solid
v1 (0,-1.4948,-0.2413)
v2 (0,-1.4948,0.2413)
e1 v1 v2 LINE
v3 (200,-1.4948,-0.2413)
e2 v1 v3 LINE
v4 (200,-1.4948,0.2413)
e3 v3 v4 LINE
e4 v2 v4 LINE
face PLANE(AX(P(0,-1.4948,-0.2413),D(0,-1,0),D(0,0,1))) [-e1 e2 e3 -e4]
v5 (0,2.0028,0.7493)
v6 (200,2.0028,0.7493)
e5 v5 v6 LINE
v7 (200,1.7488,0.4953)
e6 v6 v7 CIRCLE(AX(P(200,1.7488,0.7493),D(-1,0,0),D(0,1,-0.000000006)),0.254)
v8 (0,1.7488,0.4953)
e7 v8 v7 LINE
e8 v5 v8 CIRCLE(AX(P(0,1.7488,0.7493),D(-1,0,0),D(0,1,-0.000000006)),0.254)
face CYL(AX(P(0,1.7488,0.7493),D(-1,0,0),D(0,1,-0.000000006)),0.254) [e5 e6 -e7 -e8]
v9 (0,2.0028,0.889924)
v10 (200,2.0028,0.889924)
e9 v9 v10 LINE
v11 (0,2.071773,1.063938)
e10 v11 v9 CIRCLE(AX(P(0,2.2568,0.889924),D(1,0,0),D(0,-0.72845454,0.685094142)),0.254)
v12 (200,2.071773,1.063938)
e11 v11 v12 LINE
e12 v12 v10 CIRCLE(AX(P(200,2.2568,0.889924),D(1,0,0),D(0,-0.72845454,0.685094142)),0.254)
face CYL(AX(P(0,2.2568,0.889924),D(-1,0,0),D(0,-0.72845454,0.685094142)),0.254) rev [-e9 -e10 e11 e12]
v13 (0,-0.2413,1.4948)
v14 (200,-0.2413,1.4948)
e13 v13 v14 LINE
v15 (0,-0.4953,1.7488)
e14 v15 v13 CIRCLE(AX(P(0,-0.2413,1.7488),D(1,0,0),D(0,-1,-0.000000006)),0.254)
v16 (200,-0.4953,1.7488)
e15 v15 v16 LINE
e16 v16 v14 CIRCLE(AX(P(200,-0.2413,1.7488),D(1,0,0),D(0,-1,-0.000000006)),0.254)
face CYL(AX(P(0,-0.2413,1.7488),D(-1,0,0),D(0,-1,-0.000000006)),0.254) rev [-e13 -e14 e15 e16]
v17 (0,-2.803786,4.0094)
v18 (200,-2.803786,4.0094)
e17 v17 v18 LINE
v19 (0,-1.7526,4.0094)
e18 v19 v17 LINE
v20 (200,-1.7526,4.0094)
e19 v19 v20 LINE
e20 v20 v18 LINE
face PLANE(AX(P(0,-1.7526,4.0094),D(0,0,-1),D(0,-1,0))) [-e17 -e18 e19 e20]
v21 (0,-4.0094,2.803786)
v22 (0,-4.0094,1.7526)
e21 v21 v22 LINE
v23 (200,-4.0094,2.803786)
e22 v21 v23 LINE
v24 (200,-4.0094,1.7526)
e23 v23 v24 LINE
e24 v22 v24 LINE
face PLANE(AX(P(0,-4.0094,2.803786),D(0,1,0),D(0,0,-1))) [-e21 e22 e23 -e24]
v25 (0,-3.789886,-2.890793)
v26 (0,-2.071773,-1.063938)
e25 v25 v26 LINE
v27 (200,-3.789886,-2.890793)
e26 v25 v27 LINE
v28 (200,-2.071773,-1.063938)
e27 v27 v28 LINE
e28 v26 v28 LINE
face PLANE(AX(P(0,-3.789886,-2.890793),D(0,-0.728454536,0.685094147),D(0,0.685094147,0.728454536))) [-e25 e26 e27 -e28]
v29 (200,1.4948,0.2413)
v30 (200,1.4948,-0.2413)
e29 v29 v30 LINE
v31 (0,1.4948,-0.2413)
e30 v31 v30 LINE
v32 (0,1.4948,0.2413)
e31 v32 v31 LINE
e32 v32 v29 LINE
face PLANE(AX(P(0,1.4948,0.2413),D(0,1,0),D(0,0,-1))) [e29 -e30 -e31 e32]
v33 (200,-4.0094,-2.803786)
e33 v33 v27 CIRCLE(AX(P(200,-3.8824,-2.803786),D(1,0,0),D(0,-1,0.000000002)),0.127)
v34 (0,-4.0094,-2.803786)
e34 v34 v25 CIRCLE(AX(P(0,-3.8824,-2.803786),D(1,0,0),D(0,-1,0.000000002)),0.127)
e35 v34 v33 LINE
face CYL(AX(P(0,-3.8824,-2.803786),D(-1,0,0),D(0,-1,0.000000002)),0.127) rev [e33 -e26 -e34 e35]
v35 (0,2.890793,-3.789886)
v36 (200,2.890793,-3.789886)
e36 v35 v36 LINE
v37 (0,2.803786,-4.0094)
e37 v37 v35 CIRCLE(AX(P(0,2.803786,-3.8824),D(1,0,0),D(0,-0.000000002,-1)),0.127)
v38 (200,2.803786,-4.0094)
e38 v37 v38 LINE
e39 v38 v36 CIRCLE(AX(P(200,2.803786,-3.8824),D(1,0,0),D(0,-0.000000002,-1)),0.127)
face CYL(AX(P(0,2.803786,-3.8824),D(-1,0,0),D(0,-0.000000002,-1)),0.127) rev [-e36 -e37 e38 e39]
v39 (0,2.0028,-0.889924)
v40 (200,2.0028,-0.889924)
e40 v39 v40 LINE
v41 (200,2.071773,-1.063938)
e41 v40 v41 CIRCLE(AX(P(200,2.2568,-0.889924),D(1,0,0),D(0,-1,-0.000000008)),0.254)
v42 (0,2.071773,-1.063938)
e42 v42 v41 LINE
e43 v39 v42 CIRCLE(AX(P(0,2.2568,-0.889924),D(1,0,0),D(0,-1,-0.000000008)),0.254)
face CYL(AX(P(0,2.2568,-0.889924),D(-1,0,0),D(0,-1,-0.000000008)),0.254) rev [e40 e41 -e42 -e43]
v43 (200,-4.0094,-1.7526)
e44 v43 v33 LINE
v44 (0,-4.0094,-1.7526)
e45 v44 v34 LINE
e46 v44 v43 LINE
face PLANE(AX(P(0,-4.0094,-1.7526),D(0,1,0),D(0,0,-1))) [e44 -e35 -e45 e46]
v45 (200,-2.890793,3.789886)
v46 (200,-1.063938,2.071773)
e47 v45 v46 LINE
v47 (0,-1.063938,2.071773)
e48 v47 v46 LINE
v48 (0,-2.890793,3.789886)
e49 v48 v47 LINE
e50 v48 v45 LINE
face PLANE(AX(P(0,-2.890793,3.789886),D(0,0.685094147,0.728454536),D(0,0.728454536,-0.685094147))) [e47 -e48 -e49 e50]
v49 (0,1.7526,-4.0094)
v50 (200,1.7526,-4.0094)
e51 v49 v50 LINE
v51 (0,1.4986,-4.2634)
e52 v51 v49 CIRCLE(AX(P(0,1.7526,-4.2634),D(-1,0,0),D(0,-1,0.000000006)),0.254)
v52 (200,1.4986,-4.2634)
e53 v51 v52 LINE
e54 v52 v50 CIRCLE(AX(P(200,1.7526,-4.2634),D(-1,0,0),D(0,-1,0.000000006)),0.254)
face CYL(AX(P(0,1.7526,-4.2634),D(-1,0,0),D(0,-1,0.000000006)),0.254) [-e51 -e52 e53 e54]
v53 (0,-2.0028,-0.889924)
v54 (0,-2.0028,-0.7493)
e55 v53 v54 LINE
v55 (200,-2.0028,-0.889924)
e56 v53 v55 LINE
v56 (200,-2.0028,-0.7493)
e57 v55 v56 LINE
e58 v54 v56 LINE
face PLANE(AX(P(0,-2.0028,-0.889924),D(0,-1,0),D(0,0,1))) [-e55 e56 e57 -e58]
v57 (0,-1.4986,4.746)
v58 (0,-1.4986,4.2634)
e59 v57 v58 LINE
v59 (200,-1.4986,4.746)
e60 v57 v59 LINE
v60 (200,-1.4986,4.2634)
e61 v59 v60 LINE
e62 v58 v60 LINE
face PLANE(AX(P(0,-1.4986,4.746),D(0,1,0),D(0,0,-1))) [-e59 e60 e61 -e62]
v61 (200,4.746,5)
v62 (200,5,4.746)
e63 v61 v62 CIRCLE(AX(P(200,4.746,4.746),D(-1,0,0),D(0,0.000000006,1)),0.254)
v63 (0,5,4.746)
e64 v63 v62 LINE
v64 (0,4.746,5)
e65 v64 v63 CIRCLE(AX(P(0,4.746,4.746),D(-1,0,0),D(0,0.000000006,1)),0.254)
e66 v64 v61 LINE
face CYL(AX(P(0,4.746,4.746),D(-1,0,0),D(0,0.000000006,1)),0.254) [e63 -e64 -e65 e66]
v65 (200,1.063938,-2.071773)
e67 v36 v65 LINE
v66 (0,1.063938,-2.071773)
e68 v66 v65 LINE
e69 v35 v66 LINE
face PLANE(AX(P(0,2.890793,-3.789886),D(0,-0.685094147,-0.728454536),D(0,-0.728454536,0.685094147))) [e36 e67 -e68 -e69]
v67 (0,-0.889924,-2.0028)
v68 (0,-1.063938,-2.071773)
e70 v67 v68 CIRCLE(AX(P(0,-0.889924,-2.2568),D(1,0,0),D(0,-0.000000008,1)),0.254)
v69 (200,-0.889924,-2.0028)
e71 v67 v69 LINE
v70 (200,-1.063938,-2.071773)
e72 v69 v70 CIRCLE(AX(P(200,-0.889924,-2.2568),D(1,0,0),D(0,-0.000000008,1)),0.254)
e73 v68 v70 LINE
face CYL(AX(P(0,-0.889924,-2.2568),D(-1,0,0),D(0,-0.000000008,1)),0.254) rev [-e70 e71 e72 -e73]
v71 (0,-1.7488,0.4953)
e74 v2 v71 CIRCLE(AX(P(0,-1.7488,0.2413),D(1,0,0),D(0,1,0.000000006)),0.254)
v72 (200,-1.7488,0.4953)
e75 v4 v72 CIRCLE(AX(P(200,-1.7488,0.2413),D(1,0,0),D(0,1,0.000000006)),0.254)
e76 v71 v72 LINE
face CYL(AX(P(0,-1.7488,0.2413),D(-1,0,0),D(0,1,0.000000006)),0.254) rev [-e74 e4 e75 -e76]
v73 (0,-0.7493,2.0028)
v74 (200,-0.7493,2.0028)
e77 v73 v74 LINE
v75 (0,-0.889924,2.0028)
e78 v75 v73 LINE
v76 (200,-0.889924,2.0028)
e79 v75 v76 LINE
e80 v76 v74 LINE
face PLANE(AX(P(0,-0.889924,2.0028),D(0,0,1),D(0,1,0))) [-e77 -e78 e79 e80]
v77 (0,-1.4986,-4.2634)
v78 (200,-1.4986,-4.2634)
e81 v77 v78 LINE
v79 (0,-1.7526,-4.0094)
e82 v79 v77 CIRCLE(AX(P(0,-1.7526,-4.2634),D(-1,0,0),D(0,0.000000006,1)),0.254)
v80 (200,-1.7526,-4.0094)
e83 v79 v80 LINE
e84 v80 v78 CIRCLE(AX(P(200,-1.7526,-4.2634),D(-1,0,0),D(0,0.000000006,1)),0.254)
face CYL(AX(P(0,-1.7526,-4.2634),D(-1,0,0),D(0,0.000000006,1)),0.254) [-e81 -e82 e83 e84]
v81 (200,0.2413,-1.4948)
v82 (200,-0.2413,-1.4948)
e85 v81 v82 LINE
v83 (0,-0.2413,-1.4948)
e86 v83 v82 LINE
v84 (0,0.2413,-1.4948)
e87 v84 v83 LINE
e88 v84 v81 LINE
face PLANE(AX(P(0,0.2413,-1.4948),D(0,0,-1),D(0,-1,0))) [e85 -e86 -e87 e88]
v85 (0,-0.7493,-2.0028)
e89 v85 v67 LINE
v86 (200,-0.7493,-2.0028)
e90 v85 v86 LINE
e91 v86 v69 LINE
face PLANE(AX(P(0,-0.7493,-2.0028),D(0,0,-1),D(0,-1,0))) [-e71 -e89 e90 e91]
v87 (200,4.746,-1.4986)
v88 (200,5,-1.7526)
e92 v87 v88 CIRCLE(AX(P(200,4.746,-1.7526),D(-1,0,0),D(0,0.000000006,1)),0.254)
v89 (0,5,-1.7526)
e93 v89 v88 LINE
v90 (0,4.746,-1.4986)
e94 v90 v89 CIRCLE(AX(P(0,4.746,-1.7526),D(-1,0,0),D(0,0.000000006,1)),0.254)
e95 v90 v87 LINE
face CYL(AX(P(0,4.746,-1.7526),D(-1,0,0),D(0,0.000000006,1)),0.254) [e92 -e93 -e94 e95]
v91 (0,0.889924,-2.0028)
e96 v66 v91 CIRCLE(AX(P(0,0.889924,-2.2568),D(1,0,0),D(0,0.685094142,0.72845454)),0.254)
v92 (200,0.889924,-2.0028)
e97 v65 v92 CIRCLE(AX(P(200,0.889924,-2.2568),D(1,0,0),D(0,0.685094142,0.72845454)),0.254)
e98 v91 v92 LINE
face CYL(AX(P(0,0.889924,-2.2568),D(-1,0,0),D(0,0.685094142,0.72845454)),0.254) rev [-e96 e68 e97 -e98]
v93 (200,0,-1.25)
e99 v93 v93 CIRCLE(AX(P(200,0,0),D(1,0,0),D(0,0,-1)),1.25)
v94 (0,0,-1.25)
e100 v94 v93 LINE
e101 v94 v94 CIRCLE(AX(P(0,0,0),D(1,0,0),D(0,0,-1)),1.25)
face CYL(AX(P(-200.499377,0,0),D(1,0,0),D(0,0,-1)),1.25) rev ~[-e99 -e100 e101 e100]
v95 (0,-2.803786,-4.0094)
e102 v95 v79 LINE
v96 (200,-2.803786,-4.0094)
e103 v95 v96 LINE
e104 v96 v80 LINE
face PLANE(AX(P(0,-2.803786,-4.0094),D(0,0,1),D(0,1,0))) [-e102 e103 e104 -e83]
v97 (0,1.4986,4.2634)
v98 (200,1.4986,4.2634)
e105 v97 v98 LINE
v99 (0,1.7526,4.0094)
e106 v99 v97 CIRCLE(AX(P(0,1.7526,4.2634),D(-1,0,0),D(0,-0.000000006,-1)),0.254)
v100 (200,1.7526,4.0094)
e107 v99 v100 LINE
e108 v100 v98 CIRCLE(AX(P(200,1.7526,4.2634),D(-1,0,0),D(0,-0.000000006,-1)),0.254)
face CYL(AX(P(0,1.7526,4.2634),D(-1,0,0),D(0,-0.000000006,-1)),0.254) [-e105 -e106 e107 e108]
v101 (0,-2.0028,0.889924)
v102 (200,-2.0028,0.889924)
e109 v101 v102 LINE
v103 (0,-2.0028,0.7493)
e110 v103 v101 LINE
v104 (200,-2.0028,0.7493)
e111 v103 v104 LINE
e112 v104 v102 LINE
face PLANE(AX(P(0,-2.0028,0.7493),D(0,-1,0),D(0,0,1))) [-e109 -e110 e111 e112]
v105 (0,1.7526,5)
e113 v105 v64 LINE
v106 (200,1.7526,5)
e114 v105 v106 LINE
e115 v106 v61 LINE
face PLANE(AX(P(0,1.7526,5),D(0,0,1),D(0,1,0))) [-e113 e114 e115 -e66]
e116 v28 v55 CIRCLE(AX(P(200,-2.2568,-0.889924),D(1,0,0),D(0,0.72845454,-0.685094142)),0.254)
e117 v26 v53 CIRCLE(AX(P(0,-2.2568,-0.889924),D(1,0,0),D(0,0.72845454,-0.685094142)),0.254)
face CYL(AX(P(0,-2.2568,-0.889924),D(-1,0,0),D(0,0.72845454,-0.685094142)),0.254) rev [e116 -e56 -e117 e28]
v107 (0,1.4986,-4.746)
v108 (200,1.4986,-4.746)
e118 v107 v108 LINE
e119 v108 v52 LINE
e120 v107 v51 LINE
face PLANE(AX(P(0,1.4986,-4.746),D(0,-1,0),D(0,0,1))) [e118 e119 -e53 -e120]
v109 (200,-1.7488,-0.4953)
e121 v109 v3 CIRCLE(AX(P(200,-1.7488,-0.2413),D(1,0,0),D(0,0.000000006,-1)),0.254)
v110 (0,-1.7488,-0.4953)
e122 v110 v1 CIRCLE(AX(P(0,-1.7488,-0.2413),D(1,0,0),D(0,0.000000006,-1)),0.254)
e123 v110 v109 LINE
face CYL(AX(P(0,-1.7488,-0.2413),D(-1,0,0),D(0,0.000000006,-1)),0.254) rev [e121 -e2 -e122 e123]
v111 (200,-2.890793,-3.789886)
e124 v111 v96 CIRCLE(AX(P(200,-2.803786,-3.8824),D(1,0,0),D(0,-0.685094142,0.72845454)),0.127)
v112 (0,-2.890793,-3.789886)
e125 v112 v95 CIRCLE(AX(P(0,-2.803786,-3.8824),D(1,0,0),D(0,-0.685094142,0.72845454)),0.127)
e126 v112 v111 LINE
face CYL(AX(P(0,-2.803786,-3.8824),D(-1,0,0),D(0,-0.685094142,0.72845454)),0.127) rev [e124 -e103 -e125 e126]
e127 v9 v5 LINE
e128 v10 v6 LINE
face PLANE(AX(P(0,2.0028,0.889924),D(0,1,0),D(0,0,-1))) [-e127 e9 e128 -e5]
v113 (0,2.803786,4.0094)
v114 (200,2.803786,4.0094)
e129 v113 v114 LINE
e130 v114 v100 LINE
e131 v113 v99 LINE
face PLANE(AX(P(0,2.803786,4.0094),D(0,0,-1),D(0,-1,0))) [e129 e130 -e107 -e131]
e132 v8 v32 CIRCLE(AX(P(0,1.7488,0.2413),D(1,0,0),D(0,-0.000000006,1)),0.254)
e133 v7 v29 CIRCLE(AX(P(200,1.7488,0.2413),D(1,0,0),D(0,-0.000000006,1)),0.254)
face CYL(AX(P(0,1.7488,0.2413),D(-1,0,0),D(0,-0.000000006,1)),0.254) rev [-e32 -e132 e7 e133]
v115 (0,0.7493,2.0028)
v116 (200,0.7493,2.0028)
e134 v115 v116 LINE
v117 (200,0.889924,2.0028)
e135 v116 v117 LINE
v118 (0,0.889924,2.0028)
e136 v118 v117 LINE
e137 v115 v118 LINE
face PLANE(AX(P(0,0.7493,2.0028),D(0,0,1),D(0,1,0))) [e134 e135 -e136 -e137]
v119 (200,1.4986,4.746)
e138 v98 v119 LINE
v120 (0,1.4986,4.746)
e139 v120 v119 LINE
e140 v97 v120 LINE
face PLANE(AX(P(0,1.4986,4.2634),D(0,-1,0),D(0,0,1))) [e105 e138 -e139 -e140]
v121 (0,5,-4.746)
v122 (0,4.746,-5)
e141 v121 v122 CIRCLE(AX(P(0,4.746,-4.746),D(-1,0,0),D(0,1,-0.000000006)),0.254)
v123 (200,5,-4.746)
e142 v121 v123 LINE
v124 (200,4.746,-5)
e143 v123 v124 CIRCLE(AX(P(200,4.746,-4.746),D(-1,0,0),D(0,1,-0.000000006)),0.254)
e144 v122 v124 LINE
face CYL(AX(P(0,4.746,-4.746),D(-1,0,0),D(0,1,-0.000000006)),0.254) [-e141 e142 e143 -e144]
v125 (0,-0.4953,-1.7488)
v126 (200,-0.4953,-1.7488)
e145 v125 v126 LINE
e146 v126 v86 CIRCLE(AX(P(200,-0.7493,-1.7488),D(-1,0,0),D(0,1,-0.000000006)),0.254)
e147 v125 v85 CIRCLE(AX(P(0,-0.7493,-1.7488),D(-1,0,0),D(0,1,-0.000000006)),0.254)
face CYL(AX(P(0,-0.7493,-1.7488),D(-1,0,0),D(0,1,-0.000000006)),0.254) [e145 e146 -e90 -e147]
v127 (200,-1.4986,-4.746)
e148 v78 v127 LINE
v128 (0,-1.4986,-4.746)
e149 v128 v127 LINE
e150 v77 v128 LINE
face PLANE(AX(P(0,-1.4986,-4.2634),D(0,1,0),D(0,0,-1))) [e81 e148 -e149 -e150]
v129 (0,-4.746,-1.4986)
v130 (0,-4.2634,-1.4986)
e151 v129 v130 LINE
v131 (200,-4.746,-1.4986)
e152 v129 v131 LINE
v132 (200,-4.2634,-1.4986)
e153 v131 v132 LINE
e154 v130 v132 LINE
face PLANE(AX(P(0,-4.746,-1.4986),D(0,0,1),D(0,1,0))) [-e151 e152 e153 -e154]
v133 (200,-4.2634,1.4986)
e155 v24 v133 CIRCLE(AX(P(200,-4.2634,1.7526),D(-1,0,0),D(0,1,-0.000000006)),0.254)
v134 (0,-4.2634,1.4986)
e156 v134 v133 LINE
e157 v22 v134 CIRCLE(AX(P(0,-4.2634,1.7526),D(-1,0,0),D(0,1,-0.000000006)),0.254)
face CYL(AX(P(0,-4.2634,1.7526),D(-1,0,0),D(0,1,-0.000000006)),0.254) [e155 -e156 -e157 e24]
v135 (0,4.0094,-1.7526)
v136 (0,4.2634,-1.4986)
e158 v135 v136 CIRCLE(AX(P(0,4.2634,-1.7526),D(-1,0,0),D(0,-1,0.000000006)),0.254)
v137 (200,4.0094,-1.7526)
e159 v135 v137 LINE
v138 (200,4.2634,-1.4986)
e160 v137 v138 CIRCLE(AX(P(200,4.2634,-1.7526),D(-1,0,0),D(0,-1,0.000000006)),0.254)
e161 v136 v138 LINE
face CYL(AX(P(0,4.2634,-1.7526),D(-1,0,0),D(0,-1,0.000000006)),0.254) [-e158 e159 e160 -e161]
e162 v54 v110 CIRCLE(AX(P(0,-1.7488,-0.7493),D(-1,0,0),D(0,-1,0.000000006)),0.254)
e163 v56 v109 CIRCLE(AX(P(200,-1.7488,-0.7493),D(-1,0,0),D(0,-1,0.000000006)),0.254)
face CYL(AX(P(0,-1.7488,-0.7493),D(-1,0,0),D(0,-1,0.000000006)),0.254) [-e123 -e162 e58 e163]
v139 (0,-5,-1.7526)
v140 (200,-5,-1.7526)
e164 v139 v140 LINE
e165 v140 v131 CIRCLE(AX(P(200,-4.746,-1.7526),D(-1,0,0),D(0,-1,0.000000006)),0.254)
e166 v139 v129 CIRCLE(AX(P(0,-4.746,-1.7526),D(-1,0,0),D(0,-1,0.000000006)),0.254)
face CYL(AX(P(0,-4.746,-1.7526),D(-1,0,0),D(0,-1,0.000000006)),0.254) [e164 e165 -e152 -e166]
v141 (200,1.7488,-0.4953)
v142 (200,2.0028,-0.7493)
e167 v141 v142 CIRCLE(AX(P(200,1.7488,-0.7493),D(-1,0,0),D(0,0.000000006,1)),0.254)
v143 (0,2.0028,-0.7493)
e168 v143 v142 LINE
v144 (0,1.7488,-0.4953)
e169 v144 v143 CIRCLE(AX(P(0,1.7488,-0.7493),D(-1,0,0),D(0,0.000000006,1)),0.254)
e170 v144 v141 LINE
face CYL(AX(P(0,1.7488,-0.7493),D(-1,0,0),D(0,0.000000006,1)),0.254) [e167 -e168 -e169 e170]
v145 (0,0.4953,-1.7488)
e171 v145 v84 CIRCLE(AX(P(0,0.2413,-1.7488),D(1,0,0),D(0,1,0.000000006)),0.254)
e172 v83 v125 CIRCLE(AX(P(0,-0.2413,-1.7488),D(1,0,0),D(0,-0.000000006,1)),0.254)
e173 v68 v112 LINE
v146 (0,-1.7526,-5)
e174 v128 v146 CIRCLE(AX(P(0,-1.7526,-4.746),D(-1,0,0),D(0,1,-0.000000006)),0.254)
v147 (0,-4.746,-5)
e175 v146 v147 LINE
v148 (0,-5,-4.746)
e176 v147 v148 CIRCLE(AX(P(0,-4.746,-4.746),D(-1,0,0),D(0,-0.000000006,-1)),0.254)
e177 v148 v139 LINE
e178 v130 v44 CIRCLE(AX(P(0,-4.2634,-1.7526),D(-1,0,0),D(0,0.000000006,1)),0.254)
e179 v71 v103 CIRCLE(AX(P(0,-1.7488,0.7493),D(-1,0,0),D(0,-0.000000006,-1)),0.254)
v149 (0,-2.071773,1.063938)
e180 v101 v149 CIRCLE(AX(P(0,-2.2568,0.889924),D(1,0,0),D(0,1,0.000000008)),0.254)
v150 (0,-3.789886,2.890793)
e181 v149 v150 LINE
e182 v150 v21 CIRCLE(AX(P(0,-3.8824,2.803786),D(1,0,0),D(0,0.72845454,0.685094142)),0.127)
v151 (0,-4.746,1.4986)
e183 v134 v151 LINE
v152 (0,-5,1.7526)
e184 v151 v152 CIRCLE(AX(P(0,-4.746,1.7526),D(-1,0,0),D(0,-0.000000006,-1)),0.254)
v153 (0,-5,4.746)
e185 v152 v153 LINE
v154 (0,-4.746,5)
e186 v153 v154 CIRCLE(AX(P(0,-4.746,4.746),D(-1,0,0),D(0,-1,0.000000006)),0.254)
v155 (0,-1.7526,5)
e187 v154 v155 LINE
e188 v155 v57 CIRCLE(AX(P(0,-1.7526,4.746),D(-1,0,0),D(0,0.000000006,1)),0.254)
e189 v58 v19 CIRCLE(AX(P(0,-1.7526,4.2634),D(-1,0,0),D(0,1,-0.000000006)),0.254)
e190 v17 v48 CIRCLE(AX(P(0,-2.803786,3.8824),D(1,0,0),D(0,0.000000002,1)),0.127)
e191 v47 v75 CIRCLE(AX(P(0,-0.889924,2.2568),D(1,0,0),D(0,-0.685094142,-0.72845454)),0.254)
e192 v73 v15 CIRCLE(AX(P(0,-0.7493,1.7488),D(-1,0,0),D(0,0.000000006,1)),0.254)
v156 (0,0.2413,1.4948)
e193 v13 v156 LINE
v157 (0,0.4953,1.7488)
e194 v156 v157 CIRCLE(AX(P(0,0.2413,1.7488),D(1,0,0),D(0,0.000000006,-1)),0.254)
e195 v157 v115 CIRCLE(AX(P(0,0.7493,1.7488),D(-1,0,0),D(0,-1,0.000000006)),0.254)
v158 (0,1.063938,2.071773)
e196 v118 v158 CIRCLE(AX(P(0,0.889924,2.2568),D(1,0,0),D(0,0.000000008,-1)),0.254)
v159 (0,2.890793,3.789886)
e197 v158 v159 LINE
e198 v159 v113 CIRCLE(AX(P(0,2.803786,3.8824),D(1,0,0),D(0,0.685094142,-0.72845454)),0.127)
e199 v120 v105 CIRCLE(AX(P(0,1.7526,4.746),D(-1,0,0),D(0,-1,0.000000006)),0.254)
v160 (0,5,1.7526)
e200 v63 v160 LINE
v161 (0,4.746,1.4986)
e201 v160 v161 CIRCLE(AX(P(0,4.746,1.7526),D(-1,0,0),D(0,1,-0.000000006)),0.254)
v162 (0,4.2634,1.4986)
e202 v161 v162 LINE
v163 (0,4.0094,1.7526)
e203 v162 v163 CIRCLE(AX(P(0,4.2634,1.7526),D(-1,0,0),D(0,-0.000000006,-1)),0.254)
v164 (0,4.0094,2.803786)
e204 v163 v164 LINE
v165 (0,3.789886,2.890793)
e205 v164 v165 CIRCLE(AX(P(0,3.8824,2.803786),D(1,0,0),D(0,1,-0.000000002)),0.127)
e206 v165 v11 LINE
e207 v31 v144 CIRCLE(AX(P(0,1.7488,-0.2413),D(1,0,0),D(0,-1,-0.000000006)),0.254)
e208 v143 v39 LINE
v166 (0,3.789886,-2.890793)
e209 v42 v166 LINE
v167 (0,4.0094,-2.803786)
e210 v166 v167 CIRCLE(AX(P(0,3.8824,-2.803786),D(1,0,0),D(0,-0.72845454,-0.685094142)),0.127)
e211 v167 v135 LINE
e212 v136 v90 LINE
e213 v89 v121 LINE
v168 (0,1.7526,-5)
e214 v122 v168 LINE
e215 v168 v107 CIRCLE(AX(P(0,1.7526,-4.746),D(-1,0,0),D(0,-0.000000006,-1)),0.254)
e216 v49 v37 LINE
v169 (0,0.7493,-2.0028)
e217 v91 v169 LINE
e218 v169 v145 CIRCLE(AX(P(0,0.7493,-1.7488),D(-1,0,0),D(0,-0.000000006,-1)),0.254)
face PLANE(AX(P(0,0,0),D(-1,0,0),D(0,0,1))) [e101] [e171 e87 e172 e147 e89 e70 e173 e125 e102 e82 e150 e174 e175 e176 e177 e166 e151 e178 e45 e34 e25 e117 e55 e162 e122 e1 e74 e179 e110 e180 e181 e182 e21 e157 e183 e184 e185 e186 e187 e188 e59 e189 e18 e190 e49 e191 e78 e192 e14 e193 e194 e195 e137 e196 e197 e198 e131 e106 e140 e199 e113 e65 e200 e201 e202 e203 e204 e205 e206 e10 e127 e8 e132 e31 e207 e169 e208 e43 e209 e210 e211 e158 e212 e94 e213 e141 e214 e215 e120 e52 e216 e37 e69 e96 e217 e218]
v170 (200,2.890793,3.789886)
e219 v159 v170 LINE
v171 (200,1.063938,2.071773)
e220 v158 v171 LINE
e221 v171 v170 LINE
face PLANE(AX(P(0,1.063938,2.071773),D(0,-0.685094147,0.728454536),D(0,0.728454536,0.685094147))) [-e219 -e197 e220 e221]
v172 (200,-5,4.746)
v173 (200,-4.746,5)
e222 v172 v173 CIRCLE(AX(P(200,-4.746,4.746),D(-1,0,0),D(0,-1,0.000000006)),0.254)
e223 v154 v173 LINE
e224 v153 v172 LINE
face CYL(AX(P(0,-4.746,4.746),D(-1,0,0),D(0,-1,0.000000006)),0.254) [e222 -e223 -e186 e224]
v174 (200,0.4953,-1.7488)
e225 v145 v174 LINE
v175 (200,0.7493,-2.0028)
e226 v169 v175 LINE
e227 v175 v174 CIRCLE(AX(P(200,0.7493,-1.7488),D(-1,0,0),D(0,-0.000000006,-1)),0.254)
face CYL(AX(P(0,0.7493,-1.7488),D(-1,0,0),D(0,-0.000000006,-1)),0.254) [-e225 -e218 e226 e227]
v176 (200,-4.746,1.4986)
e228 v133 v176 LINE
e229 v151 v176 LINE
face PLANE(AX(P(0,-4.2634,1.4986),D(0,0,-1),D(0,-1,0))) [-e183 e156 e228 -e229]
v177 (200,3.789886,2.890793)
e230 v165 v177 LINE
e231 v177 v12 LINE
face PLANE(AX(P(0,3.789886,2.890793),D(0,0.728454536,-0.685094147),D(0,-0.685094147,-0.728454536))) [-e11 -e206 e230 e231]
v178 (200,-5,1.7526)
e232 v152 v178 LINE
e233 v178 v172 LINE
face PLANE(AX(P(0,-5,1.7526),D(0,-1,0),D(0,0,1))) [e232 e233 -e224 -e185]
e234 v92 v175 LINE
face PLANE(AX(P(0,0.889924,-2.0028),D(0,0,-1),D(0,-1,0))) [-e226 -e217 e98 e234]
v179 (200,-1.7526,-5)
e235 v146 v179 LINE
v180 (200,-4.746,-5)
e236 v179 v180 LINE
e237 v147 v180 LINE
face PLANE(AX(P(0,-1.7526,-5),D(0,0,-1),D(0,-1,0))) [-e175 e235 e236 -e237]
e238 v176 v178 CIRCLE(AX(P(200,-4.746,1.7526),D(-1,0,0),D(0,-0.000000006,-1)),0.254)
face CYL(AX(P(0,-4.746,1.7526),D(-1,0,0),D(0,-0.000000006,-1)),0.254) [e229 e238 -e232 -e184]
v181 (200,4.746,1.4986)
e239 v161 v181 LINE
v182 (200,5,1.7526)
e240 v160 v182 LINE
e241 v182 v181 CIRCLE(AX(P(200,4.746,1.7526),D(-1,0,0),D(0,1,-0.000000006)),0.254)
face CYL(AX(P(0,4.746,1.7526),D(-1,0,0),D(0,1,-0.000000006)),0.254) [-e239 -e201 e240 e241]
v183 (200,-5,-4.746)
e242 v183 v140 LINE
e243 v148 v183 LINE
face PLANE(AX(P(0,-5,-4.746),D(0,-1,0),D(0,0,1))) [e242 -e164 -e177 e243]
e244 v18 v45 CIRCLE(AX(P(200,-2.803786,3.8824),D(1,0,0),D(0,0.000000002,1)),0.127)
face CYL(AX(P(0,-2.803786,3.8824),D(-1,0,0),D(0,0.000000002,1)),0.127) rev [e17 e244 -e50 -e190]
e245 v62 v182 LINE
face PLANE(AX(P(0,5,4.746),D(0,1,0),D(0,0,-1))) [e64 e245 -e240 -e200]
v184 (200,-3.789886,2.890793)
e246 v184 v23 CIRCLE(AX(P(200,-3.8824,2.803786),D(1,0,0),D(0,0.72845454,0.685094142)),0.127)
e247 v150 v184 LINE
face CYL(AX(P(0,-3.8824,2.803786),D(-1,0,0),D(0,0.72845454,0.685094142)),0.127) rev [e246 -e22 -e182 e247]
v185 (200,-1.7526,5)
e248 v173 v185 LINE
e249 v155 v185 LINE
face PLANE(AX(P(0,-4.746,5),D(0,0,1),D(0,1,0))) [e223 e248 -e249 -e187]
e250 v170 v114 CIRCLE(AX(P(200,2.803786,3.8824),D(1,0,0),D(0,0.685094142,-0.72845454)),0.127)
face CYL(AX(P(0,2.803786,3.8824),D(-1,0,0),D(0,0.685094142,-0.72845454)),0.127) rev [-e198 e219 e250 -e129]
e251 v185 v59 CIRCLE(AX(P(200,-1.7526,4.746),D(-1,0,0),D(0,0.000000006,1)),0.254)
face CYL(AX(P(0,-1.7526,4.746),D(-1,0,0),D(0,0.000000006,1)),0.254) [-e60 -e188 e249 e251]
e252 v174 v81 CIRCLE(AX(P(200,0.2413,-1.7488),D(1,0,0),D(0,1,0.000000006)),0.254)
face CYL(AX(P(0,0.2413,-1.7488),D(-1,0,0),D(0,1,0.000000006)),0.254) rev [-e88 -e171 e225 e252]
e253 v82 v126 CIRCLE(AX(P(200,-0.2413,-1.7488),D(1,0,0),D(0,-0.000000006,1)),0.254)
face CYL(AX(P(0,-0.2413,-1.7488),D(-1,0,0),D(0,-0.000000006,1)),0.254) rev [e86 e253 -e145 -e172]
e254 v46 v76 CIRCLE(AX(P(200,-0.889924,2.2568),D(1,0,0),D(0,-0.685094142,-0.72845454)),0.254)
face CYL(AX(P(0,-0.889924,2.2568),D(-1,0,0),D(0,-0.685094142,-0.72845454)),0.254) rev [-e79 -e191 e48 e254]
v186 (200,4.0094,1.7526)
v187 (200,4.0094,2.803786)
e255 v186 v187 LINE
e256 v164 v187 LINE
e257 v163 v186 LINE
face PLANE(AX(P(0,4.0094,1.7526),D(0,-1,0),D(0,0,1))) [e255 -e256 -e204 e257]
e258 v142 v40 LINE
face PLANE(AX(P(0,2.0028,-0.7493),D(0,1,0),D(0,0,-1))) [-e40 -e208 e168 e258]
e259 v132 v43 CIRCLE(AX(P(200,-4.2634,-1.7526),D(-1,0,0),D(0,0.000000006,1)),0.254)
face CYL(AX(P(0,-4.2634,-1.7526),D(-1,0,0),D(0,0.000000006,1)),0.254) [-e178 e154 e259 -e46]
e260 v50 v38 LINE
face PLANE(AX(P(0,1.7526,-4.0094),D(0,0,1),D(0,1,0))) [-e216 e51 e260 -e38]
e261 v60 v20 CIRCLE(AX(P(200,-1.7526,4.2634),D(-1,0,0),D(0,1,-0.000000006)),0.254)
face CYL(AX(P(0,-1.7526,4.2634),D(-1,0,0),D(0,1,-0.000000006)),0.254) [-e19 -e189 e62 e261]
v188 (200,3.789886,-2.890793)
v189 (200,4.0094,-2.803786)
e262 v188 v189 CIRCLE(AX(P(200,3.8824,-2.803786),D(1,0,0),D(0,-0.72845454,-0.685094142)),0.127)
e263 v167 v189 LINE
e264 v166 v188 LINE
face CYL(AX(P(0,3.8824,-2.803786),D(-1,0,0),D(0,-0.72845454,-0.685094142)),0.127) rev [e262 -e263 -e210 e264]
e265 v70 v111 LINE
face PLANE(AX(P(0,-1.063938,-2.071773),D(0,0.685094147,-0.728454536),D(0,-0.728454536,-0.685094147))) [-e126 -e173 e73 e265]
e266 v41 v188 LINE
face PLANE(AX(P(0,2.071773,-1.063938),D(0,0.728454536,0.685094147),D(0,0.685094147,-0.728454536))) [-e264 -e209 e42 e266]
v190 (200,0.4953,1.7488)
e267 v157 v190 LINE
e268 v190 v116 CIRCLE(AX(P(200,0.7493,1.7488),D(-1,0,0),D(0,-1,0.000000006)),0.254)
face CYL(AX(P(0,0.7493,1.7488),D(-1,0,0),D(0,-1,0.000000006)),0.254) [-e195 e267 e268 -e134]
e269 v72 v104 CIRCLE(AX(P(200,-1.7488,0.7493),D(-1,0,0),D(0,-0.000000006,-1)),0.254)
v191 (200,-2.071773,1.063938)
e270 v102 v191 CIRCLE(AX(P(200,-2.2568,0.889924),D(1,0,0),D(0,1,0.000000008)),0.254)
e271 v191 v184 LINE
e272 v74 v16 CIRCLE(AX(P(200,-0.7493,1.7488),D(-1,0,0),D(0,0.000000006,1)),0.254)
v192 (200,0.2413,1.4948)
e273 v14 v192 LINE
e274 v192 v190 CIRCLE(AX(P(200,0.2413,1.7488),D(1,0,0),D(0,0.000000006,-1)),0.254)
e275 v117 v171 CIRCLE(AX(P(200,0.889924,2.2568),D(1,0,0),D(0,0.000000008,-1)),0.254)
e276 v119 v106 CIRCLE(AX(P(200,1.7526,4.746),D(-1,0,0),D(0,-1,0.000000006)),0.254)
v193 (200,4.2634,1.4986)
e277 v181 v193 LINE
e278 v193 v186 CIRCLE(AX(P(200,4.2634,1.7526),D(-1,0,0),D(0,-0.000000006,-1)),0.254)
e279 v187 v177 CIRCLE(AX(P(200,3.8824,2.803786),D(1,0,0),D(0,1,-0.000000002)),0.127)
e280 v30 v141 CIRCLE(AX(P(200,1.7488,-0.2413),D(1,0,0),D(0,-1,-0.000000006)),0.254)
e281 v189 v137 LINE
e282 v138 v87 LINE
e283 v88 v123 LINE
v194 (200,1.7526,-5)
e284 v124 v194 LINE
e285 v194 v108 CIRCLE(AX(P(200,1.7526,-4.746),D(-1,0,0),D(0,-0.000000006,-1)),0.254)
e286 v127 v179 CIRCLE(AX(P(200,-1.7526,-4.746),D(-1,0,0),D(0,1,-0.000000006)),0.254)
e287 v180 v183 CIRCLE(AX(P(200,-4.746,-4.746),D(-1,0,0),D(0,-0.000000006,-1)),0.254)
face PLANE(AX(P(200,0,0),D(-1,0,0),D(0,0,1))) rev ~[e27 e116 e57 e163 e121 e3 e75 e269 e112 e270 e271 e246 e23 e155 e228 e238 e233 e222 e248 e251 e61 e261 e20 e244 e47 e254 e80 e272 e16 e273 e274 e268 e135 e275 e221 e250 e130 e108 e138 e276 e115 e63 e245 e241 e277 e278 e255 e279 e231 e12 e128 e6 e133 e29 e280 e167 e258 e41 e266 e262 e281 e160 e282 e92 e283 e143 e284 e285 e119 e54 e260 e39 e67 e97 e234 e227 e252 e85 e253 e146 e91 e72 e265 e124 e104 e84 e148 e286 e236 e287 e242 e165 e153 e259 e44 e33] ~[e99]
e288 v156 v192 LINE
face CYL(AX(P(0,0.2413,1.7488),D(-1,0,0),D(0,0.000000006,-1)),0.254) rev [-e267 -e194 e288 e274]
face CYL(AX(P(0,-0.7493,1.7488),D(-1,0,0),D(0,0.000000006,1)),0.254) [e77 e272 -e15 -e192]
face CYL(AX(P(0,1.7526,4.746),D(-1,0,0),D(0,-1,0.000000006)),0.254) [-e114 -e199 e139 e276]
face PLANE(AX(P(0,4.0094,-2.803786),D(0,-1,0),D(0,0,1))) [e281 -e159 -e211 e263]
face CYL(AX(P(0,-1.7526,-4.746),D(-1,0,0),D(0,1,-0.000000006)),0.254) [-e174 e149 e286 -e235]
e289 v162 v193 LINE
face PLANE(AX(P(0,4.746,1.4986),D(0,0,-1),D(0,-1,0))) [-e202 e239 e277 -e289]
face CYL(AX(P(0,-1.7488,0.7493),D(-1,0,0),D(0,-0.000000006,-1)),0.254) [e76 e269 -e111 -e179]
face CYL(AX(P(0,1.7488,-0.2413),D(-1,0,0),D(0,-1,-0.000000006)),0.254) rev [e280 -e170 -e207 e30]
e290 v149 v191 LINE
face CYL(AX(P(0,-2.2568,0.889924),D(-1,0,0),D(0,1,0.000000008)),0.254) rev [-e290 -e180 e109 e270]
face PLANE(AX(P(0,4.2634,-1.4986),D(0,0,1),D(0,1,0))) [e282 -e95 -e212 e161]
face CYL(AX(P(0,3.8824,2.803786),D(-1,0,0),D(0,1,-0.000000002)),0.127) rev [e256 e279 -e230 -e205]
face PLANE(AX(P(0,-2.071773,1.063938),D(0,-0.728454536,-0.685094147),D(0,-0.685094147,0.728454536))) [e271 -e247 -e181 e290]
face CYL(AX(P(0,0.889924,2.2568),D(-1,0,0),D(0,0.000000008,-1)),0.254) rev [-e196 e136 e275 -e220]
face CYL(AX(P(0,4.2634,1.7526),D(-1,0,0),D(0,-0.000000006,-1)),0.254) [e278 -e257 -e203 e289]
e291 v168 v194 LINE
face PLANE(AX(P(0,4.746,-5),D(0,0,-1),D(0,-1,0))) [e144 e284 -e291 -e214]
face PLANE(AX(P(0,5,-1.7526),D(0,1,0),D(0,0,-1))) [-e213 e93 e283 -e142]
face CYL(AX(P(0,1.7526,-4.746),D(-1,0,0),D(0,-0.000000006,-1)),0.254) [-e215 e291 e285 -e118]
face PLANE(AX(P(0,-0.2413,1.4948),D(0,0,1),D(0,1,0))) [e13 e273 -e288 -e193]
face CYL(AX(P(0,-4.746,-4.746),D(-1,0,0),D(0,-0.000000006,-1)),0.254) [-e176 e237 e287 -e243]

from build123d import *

# Parameters (mm, degrees)
ESTRUSIONE_ESTRUSIONE1_DEPTH = 200
FORO_FILETTATO_M3X0_5_1_D    = 2.5


with BuildPart() as part:
    # Sketch1 → Estrusione-Estrusione1 (new body)
    with BuildSketch(Plane(origin=(0, 0, 0), x_dir=(0, 0, -1), z_dir=(1, 0, 0))):
        with BuildLine():
            Line((-0.2413, 1.4948), (0.2413, 1.4948))
            ThreePointArc((0.2413, 1.4948), (0.420905122, 1.569194878), (0.4953, 1.7488))
            ThreePointArc((0.4953, 1.7488), (0.569694878, 1.928405122), (0.7493, 2.0028))
            Line((0.7493, 2.0028), (0.889923986, 2.0028))
            ThreePointArc((0.889923986, 2.0028), (0.983516259, 2.020671886), (1.063937899, 2.071772548))
            Line((1.063937899, 2.071772548), (2.890793, 3.789886274))
            ThreePointArc((2.890793, 3.789886274), (2.921850101, 3.929196137), (2.803786044, 4.0094))
            Line((2.803786044, 4.0094), (1.7526, 4.0094))
            ThreePointArc((1.7526, 4.0094), (1.572994878, 4.083794878), (1.4986, 4.2634))
            Line((1.4986, 4.2634), (1.4986, 4.746))
            ThreePointArc((1.4986, 4.746), (1.572994878, 4.925605122), (1.7526, 5))
            Line((1.7526, 5), (4.746, 5))
            ThreePointArc((4.746, 5), (4.925605122, 4.925605122), (5, 4.746))
            Line((5, 4.746), (5, 1.7526))
            ThreePointArc((5, 1.7526), (4.925605122, 1.572994878), (4.746, 1.4986))
            Line((4.746, 1.4986), (4.2634, 1.4986))
            ThreePointArc((4.2634, 1.4986), (4.083794878, 1.572994878), (4.0094, 1.7526))
            Line((4.0094, 1.7526), (4.0094, 2.803786044))
            ThreePointArc((4.0094, 2.803786044), (3.929196137, 2.921850101), (3.789886274, 2.890793))
            Line((3.789886274, 2.890793), (2.071772548, 1.063937899))
            ThreePointArc((2.071772548, 1.063937899), (2.020671886, 0.983516259), (2.0028, 0.889923986))
            Line((2.0028, 0.889923986), (2.0028, 0.7493))
            ThreePointArc((2.0028, 0.7493), (1.928405122, 0.569694878), (1.7488, 0.4953))
            ThreePointArc((1.7488, 0.4953), (1.569194878, 0.420905122), (1.4948, 0.2413))
            Line((1.4948, 0.2413), (1.4948, -0.2413))
            ThreePointArc((1.4948, -0.2413), (1.569194878, -0.420905122), (1.7488, -0.4953))
            ThreePointArc((1.7488, -0.4953), (1.928405122, -0.569694878), (2.0028, -0.7493))
            Line((2.0028, -0.7493), (2.0028, -0.889923986))
            ThreePointArc((2.0028, -0.889923986), (2.020671886, -0.983516259), (2.071772548, -1.063937899))
            Line((2.071772548, -1.063937899), (3.789886274, -2.890793))
            ThreePointArc((3.789886274, -2.890793), (3.929196137, -2.921850101), (4.0094, -2.803786044))
            Line((4.0094, -2.803786044), (4.0094, -1.7526))
            ThreePointArc((4.0094, -1.7526), (4.083794878, -1.572994878), (4.2634, -1.4986))
            Line((4.2634, -1.4986), (4.746, -1.4986))
            ThreePointArc((4.746, -1.4986), (4.925605122, -1.572994878), (5, -1.7526))
            Line((5, -1.7526), (5, -4.746))
            ThreePointArc((5, -4.746), (4.925605122, -4.925605122), (4.746, -5))
            Line((4.746, -5), (1.7526, -5))
            ThreePointArc((1.7526, -5), (1.572994878, -4.925605122), (1.4986, -4.746))
            Line((1.4986, -4.746), (1.4986, -4.2634))
            ThreePointArc((1.4986, -4.2634), (1.572994878, -4.083794878), (1.7526, -4.0094))
            Line((1.7526, -4.0094), (2.803786044, -4.0094))
            ThreePointArc((2.803786044, -4.0094), (2.921850101, -3.929196137), (2.890793, -3.789886274))
            Line((2.890793, -3.789886274), (1.063937899, -2.071772548))
            ThreePointArc((1.063937899, -2.071772548), (0.983516259, -2.020671886), (0.889923986, -2.0028))
            Line((0.889923986, -2.0028), (0.7493, -2.0028))
            ThreePointArc((0.7493, -2.0028), (0.569694878, -1.928405122), (0.4953, -1.7488))
            ThreePointArc((0.4953, -1.7488), (0.420905122, -1.569194878), (0.2413, -1.4948))
            Line((0.2413, -1.4948), (-0.2413, -1.4948))
            ThreePointArc((-0.2413, -1.4948), (-0.420905122, -1.569194878), (-0.4953, -1.7488))
            ThreePointArc((-0.4953, -1.7488), (-0.569694878, -1.928405122), (-0.7493, -2.0028))
            Line((-0.7493, -2.0028), (-0.889923986, -2.0028))
            ThreePointArc((-0.889923986, -2.0028), (-0.983516259, -2.020671886), (-1.063937899, -2.071772548))
            Line((-1.063937899, -2.071772548), (-2.890793, -3.789886274))
            ThreePointArc((-2.890793, -3.789886274), (-2.921850101, -3.929196137), (-2.803786044, -4.0094))
            Line((-2.803786044, -4.0094), (-1.7526, -4.0094))
            ThreePointArc((-1.7526, -4.0094), (-1.572994878, -4.083794878), (-1.4986, -4.2634))
            Line((-1.4986, -4.2634), (-1.4986, -4.746))
            ThreePointArc((-1.4986, -4.746), (-1.572994878, -4.925605122), (-1.7526, -5))
            Line((-1.7526, -5), (-4.746, -5))
            ThreePointArc((-4.746, -5), (-4.925605122, -4.925605122), (-5, -4.746))
            Line((-5, -4.746), (-5, -1.7526))
            ThreePointArc((-5, -1.7526), (-4.925605122, -1.572994878), (-4.746, -1.4986))
            Line((-4.746, -1.4986), (-4.2634, -1.4986))
            ThreePointArc((-4.2634, -1.4986), (-4.083794878, -1.572994878), (-4.0094, -1.7526))
            Line((-4.0094, -1.7526), (-4.0094, -2.803786044))
            ThreePointArc((-4.0094, -2.803786044), (-3.929196137, -2.921850101), (-3.789886274, -2.890793))
            Line((-3.789886274, -2.890793), (-2.071772548, -1.063937899))
            ThreePointArc((-2.071772548, -1.063937899), (-2.020671886, -0.983516259), (-2.0028, -0.889923986))
            Line((-2.0028, -0.889923986), (-2.0028, -0.7493))
            ThreePointArc((-2.0028, -0.7493), (-1.928405122, -0.569694878), (-1.7488, -0.4953))
            ThreePointArc((-1.7488, -0.4953), (-1.569194878, -0.420905122), (-1.4948, -0.2413))
            Line((-1.4948, -0.2413), (-1.4948, 0.2413))
            ThreePointArc((-1.4948, 0.2413), (-1.569194878, 0.420905122), (-1.7488, 0.4953))
            ThreePointArc((-1.7488, 0.4953), (-1.928405122, 0.569694878), (-2.0028, 0.7493))
            Line((-2.0028, 0.7493), (-2.0028, 0.889923986))
            ThreePointArc((-2.0028, 0.889923986), (-2.020671886, 0.983516259), (-2.071772548, 1.063937899))
            Line((-2.071772548, 1.063937899), (-3.789886274, 2.890793))
            ThreePointArc((-3.789886274, 2.890793), (-3.929196137, 2.921850101), (-4.0094, 2.803786044))
            Line((-4.0094, 2.803786044), (-4.0094, 1.7526))
            ThreePointArc((-4.0094, 1.7526), (-4.083794878, 1.572994878), (-4.2634, 1.4986))
            Line((-4.2634, 1.4986), (-4.746, 1.4986))
            ThreePointArc((-4.746, 1.4986), (-4.925605122, 1.572994878), (-5, 1.7526))
            Line((-5, 1.7526), (-5, 4.746))
            ThreePointArc((-5, 4.746), (-4.925605122, 4.925605122), (-4.746, 5))
            Line((-4.746, 5), (-1.7526, 5))
            ThreePointArc((-1.7526, 5), (-1.572994878, 4.925605122), (-1.4986, 4.746))
            Line((-1.4986, 4.746), (-1.4986, 4.2634))
            ThreePointArc((-1.4986, 4.2634), (-1.572994878, 4.083794878), (-1.7526, 4.0094))
            Line((-1.7526, 4.0094), (-2.803786044, 4.0094))
            ThreePointArc((-2.803786044, 4.0094), (-2.921850101, 3.929196137), (-2.890793, 3.789886274))
            Line((-2.890793, 3.789886274), (-1.063937899, 2.071772548))
            ThreePointArc((-1.063937899, 2.071772548), (-0.983516259, 2.020671886), (-0.889923986, 2.0028))
            Line((-0.889923986, 2.0028), (-0.7493, 2.0028))
            ThreePointArc((-0.7493, 2.0028), (-0.569694878, 1.928405122), (-0.4953, 1.7488))
            ThreePointArc((-0.4953, 1.7488), (-0.420905122, 1.569194878), (-0.2413, 1.4948))
        make_face()
    extrude(amount=ESTRUSIONE_ESTRUSIONE1_DEPTH)

    # Foro filettato M3x0.5-1 (through all)
    with Locations(Plane.ZY):
        with Locations((0, 0)):
            Hole(FORO_FILETTATO_M3X0_5_1_D / 2)


solid = part.part
